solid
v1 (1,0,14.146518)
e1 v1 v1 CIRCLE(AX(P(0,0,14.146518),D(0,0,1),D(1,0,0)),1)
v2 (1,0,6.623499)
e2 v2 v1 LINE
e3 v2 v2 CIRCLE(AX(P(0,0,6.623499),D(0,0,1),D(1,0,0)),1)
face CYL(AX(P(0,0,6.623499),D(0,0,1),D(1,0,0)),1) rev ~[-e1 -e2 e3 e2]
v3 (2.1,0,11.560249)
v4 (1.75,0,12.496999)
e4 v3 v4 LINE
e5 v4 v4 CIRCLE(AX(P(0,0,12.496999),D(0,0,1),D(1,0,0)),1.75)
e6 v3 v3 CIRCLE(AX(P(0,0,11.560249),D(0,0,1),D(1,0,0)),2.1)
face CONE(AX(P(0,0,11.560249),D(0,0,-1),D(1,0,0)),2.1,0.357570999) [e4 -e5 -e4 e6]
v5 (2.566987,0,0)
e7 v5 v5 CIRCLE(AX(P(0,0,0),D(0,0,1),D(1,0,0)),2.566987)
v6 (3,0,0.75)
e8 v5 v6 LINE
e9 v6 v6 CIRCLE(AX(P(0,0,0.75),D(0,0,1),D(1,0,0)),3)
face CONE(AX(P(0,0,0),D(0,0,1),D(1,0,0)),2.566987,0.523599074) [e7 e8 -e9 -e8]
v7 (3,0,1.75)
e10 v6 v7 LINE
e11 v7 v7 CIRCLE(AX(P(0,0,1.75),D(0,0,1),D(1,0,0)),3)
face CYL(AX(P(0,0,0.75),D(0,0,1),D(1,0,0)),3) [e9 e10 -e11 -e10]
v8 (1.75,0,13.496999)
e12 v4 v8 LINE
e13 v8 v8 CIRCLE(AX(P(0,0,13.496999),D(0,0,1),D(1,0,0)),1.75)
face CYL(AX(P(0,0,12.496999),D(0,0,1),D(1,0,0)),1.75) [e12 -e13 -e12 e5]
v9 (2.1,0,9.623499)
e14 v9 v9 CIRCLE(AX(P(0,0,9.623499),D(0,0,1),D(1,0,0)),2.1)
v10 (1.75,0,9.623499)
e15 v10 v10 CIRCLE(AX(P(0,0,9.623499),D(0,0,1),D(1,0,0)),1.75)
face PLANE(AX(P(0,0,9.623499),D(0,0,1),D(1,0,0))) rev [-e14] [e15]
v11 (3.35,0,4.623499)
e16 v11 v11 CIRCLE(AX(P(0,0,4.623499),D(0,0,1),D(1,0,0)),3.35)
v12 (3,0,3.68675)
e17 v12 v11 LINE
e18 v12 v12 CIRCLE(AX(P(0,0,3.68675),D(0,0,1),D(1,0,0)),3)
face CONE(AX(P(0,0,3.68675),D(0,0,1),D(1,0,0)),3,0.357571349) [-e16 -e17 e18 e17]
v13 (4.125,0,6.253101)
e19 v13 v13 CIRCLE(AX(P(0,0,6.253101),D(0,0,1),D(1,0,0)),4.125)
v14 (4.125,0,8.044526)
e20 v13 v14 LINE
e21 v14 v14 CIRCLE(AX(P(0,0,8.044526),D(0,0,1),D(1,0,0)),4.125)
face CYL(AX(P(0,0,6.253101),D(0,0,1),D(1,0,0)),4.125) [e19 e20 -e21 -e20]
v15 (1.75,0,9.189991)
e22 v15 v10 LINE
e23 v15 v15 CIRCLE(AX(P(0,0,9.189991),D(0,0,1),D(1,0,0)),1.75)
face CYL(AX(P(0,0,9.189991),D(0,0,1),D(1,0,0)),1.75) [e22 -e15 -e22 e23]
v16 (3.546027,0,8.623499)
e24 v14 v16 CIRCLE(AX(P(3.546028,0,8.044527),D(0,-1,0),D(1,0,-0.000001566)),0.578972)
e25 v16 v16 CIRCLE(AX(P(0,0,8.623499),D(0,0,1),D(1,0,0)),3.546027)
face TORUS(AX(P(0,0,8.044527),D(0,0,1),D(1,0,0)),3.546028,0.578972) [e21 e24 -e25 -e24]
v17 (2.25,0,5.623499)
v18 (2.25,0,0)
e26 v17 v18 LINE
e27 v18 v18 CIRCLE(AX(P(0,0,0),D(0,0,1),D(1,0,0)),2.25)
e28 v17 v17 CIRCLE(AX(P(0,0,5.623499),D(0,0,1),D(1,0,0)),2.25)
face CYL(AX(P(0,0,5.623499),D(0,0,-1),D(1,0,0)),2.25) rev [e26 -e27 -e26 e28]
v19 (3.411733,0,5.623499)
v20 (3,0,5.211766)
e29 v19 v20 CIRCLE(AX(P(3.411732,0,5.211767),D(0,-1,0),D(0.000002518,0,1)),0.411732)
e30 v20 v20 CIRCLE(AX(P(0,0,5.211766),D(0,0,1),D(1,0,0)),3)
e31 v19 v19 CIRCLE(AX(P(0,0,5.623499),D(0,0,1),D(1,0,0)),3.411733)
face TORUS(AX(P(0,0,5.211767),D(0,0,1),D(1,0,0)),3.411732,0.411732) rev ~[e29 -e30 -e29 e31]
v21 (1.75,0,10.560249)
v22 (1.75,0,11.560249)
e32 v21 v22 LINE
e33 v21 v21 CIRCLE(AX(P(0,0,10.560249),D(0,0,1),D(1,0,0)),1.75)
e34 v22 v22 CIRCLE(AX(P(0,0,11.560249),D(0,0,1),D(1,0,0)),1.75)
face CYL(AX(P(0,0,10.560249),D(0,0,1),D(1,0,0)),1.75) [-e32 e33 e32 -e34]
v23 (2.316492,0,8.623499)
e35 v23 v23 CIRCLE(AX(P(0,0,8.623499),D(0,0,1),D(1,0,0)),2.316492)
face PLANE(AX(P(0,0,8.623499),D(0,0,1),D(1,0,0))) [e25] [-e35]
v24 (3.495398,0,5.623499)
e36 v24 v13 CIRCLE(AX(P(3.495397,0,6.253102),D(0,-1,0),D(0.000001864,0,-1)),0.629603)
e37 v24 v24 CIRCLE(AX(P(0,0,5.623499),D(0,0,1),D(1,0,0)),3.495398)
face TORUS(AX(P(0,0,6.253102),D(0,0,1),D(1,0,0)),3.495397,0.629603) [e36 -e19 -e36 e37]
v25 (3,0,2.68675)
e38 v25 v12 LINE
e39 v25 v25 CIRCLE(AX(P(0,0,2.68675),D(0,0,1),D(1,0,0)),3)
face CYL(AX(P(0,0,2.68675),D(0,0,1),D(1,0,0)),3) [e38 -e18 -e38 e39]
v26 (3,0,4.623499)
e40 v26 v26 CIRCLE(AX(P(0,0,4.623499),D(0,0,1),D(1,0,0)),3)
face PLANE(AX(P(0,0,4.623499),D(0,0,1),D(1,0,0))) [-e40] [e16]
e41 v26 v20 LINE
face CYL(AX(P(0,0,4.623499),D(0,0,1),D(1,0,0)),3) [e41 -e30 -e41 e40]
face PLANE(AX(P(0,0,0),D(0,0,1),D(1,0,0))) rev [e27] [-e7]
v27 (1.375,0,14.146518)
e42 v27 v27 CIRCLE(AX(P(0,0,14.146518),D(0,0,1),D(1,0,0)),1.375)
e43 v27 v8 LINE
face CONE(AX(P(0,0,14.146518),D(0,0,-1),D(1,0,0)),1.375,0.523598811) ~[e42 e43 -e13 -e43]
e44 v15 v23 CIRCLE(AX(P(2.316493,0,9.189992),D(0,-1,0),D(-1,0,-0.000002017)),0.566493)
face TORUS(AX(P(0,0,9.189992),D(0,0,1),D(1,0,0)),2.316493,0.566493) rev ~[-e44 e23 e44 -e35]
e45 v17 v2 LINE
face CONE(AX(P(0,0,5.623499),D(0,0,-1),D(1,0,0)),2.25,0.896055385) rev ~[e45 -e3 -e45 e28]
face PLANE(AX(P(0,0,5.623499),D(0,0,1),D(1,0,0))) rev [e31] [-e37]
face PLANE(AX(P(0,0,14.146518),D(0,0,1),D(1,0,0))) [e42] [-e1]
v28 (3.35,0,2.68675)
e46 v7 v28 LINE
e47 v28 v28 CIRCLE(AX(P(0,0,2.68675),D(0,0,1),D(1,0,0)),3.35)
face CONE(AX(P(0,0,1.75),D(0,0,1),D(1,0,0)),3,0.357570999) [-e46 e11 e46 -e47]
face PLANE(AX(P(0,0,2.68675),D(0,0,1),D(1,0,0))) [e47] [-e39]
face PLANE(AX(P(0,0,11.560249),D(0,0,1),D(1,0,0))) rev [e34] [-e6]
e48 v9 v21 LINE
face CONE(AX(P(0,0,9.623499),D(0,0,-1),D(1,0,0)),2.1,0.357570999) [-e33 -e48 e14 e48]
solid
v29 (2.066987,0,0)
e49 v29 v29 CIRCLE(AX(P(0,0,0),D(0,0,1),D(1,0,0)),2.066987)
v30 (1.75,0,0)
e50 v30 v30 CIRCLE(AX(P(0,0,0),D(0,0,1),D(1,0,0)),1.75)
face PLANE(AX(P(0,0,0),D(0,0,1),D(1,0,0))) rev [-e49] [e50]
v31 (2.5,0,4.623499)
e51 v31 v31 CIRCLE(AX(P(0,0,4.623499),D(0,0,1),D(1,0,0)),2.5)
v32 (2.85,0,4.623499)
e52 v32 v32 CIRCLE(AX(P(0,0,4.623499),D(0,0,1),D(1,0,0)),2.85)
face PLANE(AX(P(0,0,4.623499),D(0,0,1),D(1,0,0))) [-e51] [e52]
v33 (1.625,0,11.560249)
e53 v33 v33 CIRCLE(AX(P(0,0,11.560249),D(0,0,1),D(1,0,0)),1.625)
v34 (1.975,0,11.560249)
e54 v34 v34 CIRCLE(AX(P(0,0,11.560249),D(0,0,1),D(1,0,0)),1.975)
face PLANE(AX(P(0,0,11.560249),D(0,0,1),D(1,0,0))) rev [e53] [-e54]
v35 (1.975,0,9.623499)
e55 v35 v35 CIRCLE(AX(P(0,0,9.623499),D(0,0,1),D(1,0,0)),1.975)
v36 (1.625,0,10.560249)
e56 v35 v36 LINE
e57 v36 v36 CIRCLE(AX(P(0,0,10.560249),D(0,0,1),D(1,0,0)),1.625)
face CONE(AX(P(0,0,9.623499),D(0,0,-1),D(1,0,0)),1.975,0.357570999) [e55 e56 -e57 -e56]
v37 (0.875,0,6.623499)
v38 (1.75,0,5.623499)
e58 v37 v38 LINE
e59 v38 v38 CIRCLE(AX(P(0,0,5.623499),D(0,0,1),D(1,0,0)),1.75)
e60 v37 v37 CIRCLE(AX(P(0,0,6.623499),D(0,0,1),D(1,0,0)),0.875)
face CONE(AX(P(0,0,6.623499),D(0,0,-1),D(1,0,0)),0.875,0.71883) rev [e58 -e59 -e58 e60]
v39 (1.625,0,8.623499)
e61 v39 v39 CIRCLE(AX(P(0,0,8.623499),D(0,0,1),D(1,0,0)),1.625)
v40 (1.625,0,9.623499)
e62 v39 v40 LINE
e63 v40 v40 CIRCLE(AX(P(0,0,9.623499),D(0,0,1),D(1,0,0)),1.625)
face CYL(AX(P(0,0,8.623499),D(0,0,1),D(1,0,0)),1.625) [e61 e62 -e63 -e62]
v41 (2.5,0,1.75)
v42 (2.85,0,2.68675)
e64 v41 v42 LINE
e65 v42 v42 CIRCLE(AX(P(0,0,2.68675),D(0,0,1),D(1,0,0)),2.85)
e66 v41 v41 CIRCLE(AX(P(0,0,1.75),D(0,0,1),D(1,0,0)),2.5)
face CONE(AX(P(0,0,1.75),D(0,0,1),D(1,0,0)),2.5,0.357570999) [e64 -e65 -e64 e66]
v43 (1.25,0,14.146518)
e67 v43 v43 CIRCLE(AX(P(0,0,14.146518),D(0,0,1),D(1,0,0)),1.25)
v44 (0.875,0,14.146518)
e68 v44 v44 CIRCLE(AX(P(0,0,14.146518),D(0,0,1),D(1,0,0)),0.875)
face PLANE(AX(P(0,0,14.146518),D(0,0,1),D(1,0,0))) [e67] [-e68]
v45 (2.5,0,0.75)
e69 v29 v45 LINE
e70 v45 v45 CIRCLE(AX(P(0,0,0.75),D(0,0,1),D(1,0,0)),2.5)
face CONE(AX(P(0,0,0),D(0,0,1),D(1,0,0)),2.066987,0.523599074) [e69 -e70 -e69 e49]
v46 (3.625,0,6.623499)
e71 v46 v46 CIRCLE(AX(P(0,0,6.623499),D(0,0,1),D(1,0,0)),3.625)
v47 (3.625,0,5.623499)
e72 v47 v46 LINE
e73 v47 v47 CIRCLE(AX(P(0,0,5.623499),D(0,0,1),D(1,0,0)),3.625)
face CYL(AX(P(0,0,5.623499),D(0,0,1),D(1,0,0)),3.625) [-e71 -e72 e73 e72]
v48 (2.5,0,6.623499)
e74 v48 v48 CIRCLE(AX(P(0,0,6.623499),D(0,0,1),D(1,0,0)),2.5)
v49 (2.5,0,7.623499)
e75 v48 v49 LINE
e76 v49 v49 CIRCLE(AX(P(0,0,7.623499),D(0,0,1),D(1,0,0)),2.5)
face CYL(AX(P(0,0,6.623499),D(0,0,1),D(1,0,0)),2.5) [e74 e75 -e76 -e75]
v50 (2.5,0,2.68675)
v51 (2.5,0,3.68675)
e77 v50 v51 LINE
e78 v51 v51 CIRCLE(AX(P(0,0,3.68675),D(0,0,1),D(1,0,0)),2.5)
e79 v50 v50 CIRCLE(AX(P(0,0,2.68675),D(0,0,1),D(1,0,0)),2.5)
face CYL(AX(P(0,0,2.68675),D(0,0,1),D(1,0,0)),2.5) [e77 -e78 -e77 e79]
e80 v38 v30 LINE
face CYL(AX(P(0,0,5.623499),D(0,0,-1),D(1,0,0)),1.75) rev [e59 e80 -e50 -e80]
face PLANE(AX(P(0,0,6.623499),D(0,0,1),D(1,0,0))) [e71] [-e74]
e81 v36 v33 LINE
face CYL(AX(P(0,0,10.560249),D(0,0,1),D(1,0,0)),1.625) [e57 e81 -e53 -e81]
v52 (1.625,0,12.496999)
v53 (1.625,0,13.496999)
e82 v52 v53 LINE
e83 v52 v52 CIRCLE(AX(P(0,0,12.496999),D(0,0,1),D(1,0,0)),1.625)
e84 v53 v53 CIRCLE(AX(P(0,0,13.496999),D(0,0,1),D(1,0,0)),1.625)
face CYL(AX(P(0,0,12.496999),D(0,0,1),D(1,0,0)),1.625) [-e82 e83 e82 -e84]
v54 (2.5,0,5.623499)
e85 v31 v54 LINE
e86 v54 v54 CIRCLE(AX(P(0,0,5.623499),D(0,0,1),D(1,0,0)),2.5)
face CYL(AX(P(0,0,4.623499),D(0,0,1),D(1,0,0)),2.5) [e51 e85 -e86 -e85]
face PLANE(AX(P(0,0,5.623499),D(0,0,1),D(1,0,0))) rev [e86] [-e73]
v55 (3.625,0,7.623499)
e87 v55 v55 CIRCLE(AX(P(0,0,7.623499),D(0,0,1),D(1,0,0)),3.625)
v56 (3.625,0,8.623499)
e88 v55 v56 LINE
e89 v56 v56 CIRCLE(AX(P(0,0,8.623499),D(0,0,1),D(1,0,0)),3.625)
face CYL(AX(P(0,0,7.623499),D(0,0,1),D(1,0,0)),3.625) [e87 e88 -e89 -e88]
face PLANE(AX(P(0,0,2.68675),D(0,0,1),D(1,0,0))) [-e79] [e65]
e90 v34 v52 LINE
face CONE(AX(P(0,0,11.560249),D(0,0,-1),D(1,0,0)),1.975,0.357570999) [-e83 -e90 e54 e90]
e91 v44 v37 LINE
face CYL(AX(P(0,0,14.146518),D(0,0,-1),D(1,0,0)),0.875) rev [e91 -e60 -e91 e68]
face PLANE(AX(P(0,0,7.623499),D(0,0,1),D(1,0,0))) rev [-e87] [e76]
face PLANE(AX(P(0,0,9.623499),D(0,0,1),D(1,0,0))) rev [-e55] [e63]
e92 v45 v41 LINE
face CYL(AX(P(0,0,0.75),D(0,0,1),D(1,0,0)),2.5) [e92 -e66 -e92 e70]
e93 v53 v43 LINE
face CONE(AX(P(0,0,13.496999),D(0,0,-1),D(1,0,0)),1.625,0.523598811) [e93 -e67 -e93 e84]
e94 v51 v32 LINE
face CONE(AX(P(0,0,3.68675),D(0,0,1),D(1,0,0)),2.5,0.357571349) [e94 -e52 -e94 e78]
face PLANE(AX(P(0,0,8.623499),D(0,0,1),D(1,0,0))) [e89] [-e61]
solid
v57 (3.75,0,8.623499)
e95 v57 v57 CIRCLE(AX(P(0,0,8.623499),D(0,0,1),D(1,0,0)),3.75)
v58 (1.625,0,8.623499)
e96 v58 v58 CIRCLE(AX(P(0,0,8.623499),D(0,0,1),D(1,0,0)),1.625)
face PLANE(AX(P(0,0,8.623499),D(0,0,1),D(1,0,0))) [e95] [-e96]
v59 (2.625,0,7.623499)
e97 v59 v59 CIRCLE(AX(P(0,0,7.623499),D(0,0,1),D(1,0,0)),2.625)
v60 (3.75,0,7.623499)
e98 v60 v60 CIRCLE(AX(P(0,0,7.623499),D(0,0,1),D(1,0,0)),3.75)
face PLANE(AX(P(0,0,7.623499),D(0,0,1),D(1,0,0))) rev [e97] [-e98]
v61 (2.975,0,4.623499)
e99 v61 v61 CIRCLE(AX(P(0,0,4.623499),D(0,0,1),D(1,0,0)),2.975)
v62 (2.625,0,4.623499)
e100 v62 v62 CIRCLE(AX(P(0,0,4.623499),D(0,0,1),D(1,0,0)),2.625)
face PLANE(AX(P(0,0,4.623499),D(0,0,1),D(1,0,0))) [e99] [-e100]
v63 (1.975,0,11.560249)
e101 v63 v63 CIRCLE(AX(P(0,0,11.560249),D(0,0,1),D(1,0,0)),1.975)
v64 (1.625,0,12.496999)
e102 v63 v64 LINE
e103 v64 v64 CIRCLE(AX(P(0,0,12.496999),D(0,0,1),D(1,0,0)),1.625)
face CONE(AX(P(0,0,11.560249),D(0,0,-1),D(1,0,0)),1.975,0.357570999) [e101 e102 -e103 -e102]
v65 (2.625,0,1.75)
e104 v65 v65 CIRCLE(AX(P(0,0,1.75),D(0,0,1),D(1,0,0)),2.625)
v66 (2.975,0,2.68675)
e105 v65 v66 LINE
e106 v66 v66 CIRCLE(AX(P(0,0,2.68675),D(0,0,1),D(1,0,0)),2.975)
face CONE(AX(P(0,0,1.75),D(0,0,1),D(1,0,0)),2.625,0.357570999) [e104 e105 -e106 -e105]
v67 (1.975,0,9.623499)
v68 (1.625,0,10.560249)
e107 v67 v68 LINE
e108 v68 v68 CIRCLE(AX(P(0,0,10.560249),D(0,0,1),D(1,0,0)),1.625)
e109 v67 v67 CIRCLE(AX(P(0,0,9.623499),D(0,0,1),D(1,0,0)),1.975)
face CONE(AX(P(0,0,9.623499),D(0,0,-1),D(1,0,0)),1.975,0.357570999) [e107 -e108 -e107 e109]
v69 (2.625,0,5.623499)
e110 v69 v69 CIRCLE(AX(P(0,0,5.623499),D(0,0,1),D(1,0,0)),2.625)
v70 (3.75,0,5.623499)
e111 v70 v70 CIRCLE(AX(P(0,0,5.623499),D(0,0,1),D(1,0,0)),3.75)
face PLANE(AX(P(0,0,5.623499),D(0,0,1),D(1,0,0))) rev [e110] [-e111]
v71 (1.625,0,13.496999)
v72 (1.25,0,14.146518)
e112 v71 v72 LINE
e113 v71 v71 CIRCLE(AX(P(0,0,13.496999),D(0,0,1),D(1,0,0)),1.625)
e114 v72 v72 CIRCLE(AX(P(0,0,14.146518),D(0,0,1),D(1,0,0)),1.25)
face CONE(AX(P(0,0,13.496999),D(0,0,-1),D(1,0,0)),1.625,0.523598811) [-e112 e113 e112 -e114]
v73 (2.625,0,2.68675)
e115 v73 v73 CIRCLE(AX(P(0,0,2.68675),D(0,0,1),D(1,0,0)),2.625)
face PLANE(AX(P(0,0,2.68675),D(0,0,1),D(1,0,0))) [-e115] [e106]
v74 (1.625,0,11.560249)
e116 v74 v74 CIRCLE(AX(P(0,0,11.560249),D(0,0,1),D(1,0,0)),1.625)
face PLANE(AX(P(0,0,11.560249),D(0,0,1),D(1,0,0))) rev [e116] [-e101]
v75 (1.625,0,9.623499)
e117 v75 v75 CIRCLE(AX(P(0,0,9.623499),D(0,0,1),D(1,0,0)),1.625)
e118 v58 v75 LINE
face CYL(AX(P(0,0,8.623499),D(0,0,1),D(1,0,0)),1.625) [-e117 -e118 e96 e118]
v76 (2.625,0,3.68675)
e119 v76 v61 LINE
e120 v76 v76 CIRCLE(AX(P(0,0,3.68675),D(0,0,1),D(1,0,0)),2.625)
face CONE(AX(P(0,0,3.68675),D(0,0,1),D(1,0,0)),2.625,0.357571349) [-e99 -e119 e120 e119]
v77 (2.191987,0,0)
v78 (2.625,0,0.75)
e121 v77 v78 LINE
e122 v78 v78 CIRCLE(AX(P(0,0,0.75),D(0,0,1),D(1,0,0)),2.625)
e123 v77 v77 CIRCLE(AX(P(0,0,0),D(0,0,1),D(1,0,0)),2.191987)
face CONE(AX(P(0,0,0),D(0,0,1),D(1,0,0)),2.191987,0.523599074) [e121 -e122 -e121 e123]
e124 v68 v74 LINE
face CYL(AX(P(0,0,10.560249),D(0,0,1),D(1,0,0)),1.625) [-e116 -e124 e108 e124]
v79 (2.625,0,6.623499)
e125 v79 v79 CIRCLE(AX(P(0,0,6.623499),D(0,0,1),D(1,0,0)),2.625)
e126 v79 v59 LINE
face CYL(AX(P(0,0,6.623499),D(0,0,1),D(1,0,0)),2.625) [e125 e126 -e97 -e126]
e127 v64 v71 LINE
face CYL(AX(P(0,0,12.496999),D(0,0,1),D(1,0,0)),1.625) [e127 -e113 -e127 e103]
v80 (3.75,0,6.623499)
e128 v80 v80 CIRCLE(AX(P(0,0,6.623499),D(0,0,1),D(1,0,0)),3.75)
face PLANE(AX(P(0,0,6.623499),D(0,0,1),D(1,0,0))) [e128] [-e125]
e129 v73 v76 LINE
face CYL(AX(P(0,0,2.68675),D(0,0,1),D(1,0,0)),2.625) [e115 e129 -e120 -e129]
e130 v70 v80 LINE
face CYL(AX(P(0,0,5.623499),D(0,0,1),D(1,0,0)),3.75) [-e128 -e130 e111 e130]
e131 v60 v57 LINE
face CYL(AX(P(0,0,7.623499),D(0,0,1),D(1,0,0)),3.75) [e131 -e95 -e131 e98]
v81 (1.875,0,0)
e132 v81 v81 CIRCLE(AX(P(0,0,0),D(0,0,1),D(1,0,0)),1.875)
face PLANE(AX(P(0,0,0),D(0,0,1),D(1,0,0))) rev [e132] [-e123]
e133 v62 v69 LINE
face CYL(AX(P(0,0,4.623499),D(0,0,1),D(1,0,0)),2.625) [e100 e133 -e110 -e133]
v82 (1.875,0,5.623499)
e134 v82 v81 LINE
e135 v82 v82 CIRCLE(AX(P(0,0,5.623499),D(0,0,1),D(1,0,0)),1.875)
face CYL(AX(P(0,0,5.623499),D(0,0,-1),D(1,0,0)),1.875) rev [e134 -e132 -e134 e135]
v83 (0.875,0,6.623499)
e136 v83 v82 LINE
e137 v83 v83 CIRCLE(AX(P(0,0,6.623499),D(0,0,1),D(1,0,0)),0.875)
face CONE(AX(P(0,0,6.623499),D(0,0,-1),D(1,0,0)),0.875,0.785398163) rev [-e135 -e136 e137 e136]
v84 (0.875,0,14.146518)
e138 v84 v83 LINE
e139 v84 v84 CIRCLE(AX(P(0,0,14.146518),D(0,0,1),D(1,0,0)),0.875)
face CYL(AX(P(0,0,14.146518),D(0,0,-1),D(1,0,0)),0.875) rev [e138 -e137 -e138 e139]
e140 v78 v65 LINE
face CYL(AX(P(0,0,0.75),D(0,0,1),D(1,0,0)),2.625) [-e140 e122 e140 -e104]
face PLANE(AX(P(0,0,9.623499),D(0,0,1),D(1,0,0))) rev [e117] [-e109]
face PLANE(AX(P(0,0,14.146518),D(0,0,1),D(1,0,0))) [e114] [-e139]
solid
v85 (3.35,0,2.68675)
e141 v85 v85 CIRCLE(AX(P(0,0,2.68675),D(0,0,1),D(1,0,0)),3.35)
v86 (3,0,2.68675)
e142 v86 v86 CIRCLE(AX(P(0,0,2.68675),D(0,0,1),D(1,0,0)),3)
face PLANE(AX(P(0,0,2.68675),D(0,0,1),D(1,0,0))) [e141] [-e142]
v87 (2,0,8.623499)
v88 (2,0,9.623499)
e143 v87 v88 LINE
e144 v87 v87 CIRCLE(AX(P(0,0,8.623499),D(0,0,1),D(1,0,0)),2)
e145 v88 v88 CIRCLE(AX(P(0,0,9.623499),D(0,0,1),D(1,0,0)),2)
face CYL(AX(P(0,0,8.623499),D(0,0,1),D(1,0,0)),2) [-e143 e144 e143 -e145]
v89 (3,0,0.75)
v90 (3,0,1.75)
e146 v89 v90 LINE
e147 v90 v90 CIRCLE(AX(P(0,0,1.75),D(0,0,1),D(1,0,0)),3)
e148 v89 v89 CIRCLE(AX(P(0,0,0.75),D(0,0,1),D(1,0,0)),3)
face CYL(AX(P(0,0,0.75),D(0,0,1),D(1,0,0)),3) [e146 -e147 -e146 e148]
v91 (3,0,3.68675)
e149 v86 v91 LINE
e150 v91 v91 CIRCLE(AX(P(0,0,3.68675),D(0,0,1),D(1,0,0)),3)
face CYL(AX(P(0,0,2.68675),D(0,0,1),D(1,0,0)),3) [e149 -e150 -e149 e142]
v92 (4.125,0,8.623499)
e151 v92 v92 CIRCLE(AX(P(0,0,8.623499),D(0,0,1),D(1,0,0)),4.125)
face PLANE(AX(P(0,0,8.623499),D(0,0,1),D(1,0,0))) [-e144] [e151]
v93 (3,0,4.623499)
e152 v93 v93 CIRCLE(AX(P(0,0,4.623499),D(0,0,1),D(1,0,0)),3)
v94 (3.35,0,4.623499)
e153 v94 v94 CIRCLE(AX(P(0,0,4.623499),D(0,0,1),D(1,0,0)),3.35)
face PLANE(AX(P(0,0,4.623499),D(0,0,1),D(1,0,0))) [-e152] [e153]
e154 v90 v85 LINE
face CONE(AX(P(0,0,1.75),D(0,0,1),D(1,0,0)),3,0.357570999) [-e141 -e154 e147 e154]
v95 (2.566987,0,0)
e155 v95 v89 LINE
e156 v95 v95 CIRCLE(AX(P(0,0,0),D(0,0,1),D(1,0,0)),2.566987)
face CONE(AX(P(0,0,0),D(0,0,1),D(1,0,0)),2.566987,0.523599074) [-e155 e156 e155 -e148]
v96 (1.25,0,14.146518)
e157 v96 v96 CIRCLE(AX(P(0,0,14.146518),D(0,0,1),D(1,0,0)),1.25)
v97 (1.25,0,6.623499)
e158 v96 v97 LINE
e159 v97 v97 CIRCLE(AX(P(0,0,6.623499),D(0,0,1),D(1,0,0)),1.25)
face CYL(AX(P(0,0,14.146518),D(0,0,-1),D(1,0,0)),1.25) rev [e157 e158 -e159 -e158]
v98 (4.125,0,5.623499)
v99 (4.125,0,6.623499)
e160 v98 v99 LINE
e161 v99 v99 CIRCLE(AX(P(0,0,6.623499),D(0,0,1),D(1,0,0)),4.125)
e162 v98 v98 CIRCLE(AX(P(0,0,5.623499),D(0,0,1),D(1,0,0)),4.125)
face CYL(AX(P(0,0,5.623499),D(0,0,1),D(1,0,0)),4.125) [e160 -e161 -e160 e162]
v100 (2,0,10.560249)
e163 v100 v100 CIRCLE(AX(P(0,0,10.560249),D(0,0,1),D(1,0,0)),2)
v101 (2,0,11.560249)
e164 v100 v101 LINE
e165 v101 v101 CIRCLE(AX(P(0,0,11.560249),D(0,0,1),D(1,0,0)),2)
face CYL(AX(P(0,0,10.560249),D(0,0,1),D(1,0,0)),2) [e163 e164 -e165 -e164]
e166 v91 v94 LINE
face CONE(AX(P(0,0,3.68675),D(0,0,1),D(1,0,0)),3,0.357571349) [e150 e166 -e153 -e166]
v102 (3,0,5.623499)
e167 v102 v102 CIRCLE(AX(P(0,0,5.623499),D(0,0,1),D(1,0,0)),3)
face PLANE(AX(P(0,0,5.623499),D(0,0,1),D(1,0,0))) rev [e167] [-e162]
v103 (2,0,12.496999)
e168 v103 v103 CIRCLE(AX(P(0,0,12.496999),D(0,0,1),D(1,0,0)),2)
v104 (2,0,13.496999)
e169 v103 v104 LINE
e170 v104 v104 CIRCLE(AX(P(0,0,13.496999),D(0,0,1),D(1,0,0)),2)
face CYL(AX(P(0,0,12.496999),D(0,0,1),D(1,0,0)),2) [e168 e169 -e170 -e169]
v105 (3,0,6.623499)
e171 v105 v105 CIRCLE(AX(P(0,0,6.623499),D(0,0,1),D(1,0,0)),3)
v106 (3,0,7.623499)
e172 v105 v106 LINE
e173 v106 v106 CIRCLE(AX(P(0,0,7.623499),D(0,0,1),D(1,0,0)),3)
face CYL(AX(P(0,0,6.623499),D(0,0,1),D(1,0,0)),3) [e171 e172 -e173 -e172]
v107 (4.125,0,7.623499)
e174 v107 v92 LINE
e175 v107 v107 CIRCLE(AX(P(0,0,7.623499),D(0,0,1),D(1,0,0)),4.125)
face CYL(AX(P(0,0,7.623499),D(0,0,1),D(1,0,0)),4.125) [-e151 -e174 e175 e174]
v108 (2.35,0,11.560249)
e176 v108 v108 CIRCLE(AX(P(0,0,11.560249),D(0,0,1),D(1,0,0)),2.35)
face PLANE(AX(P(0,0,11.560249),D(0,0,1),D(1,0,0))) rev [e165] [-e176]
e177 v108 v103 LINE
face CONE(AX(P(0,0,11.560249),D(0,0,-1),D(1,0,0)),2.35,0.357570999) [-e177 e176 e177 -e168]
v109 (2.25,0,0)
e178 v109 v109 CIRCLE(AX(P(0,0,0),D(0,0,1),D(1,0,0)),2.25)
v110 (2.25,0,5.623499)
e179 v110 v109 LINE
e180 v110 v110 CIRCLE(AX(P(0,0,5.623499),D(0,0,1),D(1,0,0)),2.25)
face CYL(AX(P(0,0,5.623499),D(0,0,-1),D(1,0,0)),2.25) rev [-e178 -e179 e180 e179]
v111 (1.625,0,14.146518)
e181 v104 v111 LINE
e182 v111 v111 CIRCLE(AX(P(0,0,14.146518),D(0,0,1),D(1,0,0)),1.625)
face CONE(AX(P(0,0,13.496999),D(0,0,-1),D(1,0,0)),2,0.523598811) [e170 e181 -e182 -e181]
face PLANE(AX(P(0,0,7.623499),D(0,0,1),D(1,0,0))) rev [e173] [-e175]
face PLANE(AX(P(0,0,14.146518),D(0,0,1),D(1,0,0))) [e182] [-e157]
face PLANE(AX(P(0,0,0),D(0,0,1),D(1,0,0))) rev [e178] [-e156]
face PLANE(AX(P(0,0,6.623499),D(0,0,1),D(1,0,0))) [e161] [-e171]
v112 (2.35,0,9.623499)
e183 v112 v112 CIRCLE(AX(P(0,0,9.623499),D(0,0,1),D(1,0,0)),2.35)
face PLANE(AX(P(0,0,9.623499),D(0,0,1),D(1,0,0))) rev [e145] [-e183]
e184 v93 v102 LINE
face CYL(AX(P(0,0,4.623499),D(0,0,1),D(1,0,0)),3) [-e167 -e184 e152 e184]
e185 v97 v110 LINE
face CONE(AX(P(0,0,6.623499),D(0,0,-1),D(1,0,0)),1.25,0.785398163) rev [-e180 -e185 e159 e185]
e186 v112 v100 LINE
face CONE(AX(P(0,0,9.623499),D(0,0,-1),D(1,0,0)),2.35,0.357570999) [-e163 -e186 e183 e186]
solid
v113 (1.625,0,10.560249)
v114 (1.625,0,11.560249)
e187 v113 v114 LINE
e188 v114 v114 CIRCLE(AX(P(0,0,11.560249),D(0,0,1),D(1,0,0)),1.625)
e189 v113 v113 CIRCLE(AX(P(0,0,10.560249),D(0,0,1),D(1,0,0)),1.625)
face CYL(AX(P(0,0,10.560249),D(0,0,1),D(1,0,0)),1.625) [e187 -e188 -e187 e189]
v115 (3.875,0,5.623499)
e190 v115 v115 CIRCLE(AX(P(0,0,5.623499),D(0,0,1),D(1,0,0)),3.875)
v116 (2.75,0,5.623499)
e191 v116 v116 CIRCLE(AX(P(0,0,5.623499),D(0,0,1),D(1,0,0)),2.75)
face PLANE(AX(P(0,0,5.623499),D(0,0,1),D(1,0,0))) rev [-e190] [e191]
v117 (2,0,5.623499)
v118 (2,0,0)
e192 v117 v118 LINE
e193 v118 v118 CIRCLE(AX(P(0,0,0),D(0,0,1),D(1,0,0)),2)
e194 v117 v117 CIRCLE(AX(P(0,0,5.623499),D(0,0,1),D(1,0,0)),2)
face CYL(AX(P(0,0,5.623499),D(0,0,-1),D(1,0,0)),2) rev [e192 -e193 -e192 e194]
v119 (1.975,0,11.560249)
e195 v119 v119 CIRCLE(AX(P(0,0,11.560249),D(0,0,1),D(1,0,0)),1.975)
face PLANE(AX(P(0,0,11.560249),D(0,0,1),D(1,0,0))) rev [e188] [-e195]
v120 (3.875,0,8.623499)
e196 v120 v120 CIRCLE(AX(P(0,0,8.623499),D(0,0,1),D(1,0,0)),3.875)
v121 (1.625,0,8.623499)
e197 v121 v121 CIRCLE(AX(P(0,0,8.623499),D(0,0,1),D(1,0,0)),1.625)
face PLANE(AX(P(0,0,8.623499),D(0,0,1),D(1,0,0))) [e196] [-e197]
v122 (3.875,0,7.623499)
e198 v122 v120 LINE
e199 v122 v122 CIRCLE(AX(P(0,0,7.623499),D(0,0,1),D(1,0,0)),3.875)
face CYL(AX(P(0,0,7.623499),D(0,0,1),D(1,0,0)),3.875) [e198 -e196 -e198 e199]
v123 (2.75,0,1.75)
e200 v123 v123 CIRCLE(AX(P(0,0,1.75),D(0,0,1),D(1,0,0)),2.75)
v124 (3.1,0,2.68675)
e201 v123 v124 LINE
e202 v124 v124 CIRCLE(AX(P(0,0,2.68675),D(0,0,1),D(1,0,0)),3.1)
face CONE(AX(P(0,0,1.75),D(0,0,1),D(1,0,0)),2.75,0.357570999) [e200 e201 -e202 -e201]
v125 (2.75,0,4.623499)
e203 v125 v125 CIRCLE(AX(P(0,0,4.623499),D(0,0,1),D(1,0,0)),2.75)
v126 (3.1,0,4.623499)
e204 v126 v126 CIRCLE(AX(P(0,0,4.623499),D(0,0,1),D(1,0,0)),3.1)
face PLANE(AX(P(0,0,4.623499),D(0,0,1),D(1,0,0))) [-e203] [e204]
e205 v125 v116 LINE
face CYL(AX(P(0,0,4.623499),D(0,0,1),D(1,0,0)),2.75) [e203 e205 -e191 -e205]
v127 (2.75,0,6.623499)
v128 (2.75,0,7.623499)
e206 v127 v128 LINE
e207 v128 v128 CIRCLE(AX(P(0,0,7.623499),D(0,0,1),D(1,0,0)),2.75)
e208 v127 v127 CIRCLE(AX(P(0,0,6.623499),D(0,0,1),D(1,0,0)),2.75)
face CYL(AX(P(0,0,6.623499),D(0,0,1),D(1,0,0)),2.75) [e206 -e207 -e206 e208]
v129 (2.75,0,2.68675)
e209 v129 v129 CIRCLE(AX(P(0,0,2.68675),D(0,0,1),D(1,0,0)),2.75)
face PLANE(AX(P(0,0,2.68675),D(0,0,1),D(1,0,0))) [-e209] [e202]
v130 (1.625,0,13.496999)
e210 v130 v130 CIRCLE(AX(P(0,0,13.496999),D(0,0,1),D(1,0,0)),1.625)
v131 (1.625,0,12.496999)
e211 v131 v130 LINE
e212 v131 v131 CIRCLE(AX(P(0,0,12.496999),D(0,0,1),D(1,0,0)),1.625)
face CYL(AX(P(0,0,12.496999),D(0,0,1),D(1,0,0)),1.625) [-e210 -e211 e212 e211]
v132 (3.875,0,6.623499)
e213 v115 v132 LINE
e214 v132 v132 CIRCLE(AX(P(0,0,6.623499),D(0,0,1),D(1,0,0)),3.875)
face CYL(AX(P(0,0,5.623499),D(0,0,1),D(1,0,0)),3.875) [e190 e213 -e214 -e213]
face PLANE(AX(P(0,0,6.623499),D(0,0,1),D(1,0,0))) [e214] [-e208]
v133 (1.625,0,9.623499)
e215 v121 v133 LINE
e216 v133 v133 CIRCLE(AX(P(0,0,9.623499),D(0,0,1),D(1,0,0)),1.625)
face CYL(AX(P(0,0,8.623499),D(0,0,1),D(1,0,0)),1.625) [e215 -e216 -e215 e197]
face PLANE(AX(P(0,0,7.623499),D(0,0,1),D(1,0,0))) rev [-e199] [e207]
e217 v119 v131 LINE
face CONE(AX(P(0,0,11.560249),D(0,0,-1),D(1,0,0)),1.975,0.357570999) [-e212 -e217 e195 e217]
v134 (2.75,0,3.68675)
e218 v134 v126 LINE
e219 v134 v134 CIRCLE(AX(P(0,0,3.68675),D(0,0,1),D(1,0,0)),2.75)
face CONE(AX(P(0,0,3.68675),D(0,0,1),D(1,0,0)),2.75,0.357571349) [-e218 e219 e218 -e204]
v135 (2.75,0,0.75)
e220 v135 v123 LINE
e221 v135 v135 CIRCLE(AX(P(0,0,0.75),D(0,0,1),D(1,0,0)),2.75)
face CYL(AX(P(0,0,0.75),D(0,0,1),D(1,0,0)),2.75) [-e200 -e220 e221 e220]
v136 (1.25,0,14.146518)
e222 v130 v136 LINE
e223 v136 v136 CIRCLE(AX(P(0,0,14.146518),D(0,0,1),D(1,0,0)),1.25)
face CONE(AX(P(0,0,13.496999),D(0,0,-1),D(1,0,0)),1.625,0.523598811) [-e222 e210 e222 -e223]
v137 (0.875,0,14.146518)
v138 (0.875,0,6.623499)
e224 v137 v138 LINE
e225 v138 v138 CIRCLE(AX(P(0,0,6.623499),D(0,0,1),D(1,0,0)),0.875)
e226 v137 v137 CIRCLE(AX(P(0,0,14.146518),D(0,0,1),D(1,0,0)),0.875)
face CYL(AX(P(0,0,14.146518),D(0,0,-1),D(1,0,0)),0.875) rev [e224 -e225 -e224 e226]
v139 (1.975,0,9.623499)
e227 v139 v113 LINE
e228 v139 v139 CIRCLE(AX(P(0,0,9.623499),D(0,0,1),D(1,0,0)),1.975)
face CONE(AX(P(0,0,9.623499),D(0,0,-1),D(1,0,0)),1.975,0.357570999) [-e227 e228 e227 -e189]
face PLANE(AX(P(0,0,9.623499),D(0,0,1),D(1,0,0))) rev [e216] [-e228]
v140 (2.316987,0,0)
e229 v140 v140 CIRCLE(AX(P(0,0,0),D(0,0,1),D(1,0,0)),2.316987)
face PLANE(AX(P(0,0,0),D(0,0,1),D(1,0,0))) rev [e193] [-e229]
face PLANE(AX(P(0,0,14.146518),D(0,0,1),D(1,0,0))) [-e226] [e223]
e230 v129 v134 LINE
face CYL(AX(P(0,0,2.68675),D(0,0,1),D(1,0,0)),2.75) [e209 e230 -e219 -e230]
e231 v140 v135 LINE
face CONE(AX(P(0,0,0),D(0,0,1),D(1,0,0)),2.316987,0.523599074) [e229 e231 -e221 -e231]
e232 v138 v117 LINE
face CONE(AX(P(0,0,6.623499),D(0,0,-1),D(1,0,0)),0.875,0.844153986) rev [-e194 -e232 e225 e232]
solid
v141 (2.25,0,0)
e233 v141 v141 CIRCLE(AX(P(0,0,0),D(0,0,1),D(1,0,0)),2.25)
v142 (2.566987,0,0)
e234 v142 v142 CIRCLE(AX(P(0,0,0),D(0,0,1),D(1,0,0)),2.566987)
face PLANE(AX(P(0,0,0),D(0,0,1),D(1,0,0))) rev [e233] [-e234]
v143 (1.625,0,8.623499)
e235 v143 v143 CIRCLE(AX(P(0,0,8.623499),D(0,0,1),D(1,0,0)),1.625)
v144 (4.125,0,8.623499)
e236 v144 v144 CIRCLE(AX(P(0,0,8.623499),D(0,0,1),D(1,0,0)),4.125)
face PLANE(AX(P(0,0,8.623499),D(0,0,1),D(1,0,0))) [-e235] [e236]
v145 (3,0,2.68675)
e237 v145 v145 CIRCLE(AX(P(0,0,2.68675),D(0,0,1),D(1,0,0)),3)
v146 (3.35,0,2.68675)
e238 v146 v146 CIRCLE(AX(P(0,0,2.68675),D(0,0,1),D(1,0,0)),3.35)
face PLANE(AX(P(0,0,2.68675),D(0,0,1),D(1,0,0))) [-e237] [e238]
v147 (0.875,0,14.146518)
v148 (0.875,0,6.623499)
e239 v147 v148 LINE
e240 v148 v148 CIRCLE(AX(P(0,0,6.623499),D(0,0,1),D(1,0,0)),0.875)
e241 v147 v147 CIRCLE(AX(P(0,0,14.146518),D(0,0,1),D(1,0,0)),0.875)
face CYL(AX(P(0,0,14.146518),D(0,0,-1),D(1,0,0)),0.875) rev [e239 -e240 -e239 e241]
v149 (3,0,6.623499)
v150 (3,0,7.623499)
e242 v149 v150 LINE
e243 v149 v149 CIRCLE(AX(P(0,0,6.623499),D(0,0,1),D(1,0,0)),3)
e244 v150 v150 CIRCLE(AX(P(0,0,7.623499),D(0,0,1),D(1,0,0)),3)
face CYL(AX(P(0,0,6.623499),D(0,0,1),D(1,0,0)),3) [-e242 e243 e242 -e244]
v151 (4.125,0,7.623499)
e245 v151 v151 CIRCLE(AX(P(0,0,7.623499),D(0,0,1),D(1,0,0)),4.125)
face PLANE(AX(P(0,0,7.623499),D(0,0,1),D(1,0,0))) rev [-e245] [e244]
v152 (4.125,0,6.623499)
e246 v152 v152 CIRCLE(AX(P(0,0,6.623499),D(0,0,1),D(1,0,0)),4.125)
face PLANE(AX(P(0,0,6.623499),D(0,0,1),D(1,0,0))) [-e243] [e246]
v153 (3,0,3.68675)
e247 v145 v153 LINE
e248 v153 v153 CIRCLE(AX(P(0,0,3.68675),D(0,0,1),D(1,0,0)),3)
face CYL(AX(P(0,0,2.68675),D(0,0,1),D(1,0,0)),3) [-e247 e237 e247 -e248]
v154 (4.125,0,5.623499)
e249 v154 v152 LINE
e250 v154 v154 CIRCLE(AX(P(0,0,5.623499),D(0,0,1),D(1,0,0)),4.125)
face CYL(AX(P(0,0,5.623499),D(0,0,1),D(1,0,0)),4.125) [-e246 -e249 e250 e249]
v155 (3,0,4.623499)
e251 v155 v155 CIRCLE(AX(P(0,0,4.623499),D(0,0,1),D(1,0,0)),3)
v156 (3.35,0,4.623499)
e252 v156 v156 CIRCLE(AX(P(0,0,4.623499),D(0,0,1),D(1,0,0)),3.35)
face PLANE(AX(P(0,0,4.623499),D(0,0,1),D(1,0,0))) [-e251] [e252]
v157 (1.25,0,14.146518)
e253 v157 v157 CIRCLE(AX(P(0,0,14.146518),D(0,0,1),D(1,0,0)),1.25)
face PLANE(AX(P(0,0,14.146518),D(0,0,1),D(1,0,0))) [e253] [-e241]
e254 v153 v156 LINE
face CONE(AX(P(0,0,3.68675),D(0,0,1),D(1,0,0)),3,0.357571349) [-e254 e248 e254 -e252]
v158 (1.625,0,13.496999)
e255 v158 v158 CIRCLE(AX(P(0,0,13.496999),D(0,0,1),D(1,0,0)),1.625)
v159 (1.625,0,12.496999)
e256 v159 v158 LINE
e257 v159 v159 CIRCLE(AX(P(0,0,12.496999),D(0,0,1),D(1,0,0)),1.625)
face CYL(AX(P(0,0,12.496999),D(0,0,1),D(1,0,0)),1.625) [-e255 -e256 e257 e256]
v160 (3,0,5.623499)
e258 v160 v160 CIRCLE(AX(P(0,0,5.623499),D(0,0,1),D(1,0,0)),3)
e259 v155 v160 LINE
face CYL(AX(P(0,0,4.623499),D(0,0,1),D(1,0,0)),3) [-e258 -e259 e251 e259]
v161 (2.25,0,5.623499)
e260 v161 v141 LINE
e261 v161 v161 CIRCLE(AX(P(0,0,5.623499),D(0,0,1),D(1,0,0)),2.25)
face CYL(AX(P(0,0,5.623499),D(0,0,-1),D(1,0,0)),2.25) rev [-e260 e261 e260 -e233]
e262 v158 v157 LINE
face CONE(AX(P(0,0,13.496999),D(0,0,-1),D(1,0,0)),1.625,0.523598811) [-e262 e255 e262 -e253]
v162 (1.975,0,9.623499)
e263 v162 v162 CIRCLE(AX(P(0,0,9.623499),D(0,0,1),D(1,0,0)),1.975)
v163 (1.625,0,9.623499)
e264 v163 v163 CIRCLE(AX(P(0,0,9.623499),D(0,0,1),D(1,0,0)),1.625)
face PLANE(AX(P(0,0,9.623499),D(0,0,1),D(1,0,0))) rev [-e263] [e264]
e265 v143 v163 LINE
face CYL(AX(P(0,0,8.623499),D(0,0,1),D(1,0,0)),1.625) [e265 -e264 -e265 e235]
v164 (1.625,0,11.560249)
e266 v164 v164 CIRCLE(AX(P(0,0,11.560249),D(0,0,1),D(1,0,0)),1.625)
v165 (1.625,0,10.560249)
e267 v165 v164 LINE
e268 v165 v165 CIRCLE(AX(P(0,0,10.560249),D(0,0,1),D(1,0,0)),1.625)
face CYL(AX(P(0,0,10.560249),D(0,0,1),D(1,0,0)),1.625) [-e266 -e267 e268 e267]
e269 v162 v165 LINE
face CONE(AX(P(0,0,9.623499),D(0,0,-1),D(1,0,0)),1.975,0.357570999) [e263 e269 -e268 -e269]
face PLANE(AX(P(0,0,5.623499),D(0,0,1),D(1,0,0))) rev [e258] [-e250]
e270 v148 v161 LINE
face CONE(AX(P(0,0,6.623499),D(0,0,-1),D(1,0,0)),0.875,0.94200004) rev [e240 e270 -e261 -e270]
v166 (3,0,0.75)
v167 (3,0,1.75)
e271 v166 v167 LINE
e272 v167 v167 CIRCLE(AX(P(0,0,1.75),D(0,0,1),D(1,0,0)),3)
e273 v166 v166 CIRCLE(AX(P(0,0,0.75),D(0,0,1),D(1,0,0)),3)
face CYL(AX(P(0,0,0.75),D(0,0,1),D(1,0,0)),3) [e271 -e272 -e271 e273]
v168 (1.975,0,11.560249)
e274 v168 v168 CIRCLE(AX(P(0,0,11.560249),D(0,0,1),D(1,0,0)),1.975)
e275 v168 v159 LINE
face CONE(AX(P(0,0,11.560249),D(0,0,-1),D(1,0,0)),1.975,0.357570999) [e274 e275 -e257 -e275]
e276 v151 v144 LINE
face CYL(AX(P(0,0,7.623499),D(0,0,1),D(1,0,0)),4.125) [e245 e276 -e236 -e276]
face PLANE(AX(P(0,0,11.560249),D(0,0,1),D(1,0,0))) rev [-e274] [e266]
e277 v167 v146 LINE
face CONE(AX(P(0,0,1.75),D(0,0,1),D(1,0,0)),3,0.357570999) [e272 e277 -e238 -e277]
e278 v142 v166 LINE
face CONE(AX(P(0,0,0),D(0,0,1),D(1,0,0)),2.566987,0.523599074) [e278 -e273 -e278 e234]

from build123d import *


with BuildPart() as f_3mm_to_5mm_barbed_connector:
    # Sketch → Revolution (revolve)
    with BuildSketch(Plane.XZ):
        Polygon((1.75, 0), (2.066987, 0), (2.5, 0.75), (2.5, 1.75), (2.85, 2.68675), (2.5, 2.68675), (2.5, 3.68675), (2.85, 4.623499), (2.5, 4.623499), (2.5, 5.623499), (3.625, 5.623499), (3.625, 6.623499), (2.5, 6.623499), (2.5, 7.623499), (3.625, 7.623499), (3.625, 8.623499), (1.625, 8.623499), (1.625, 9.623499), (1.975, 9.623499), (1.625, 10.560249), (1.625, 11.560249), (1.975, 11.560249), (1.625, 12.496999), (1.625, 13.496999), (1.25, 14.146518), (0.875, 14.146518), (0.875, 6.623499), (1.75, 5.623499), align=None)
    revolve(axis=Axis((0, 0, 0), (0, 0, 1)))


with BuildPart() as f_3mm_to_5_25mm_barbed_connector:
    # Sketch003 → Revolution002 (revolve)
    with BuildSketch(Plane.XZ):
        Polygon((1.875, 0), (2.191987, 0), (2.625, 0.75), (2.625, 1.75), (2.975, 2.68675), (2.625, 2.68675), (2.625, 3.68675), (2.975, 4.623499), (2.625, 4.623499), (2.625, 5.623499), (3.75, 5.623499), (3.75, 6.623499), (2.625, 6.623499), (2.625, 7.623499), (3.75, 7.623499), (3.75, 8.623499), (1.625, 8.623499), (1.625, 9.623499), (1.975, 9.623499), (1.625, 10.560249), (1.625, 11.560249), (1.975, 11.560249), (1.625, 12.496999), (1.625, 13.496999), (1.25, 14.146518), (0.875, 14.146518), (0.875, 6.623499), (1.875, 5.623499), align=None)
    revolve(axis=Axis((0, 0, 0), (0, 0, 1)))


with BuildPart() as f_3mm_to_5_5mm_barbed_connector:
    # Sketch004 → Revolution003 (revolve)
    with BuildSketch(Plane.XZ):
        Polygon((2, 0), (2.316987, 0), (2.75, 0.75), (2.75, 1.75), (3.1, 2.68675), (2.75, 2.68675), (2.75, 3.68675), (3.1, 4.623499), (2.75, 4.623499), (2.75, 5.623499), (3.875, 5.623499), (3.875, 6.623499), (2.75, 6.623499), (2.75, 7.623499), (3.875, 7.623499), (3.875, 8.623499), (1.625, 8.623499), (1.625, 9.623499), (1.975, 9.623499), (1.625, 10.560249), (1.625, 11.560249), (1.975, 11.560249), (1.625, 12.496999), (1.625, 13.496999), (1.25, 14.146518), (0.875, 14.146518), (0.875, 6.623499), (2, 5.623499), align=None)
    revolve(axis=Axis((0, 0, 0), (0, 0, 1)))


with BuildPart() as f_3mm_to_6mm_barbed_connector:
    # Sketch005 → Revolution004 (revolve)
    with BuildSketch(Plane.XZ):
        Polygon((2.25, 0), (2.566987, 0), (3, 0.75), (3, 1.75), (3.35, 2.68675), (3, 2.68675), (3, 3.68675), (3.35, 4.623499), (3, 4.623499), (3, 5.623499), (4.125, 5.623499), (4.125, 6.623499), (3, 6.623499), (3, 7.623499), (4.125, 7.623499), (4.125, 8.623499), (1.625, 8.623499), (1.625, 9.623499), (1.975, 9.623499), (1.625, 10.560249), (1.625, 11.560249), (1.975, 11.560249), (1.625, 12.496999), (1.625, 13.496999), (1.25, 14.146518), (0.875, 14.146518), (0.875, 6.623499), (2.25, 5.623499), align=None)
    revolve(axis=Axis((0, 0, 0), (0, 0, 1)))


with BuildPart() as f_3_5mm_to_6mm_barbed_connector:
    # Sketch006 → Revolution005 (revolve)
    with BuildSketch(Plane.XZ):
        with BuildLine():
            Line((2.25, 0), (2.566987, 0))
            Line((2.566987, 0), (3, 0.75))
            Line((3, 0.75), (3, 1.75))
            Line((3, 1.75), (3.35, 2.68675))
            Line((3.35, 2.68675), (3, 2.68675))
            Line((3, 2.68675), (3, 3.68675))
            Line((3, 3.68675), (3.35, 4.623499))
            Line((3.35, 4.623499), (3, 4.623499))
            Line((3, 4.623499), (3, 5.211766))
            ThreePointArc((3.411733, 5.623499), (3.120594, 5.502906), (3, 5.211766))
            Line((3.411733, 5.623499), (3.495398, 5.623499))
            ThreePointArc((3.495398, 5.623499), (3.940594, 5.807906), (4.125, 6.253101))
            Line((4.125, 6.253101), (4.125, 8.044526))
            ThreePointArc((4.125, 8.044526), (3.955423, 8.453922), (3.546027, 8.623499))
            Line((3.546027, 8.623499), (2.316492, 8.623499))
            ThreePointArc((1.75, 9.189991), (1.915922, 8.789421), (2.316492, 8.623499))
            Line((1.75, 9.189991), (1.75, 9.623499))
            Line((1.75, 9.623499), (2.1, 9.623499))
            Line((2.1, 9.623499), (1.75, 10.560249))
            Line((1.75, 10.560249), (1.75, 11.560249))
            Line((1.75, 11.560249), (2.1, 11.560249))
            Line((2.1, 11.560249), (1.75, 12.496999))
            Line((1.75, 12.496999), (1.75, 13.496999))
            Line((1.375, 14.146518), (1.75, 13.496999))
            Line((1.375, 14.146518), (1, 14.146518))
            Line((1, 6.623499), (1, 14.146518))
            Line((2.25, 5.623499), (1, 6.623499))
            Line((2.25, 5.623499), (2.25, 0))
        make_face()
    revolve(axis=Axis((0, 0, 0), (0, 0, 1)))


with BuildPart() as f_4mm_to_6mm_barbed_connector:
    # Sketch007 → Revolution006 (revolve)
    with BuildSketch(Plane.XZ):
        Polygon((2.25, 0), (2.566987, 0), (3, 0.75), (3, 1.75), (3.35, 2.68675), (3, 2.68675), (3, 3.68675), (3.35, 4.623499), (3, 4.623499), (3, 5.623499), (4.125, 5.623499), (4.125, 6.623499), (3, 6.623499), (3, 7.623499), (4.125, 7.623499), (4.125, 8.623499), (2, 8.623499), (2, 9.623499), (2.35, 9.623499), (2, 10.560249), (2, 11.560249), (2.35, 11.560249), (2, 12.496999), (2, 13.496999), (1.625, 14.146518), (1.25, 14.146518), (1.25, 6.623499), (2.25, 5.623499), align=None)
    revolve(axis=Axis((0, 0, 0), (0, 0, 1)))


solid = Compound([f_3mm_to_5mm_barbed_connector.part, f_3mm_to_5_25mm_barbed_connector.part, f_3mm_to_5_5mm_barbed_connector.part, f_3mm_to_6mm_barbed_connector.part, f_3_5mm_to_6mm_barbed_connector.part, f_4mm_to_6mm_barbed_connector.part])
